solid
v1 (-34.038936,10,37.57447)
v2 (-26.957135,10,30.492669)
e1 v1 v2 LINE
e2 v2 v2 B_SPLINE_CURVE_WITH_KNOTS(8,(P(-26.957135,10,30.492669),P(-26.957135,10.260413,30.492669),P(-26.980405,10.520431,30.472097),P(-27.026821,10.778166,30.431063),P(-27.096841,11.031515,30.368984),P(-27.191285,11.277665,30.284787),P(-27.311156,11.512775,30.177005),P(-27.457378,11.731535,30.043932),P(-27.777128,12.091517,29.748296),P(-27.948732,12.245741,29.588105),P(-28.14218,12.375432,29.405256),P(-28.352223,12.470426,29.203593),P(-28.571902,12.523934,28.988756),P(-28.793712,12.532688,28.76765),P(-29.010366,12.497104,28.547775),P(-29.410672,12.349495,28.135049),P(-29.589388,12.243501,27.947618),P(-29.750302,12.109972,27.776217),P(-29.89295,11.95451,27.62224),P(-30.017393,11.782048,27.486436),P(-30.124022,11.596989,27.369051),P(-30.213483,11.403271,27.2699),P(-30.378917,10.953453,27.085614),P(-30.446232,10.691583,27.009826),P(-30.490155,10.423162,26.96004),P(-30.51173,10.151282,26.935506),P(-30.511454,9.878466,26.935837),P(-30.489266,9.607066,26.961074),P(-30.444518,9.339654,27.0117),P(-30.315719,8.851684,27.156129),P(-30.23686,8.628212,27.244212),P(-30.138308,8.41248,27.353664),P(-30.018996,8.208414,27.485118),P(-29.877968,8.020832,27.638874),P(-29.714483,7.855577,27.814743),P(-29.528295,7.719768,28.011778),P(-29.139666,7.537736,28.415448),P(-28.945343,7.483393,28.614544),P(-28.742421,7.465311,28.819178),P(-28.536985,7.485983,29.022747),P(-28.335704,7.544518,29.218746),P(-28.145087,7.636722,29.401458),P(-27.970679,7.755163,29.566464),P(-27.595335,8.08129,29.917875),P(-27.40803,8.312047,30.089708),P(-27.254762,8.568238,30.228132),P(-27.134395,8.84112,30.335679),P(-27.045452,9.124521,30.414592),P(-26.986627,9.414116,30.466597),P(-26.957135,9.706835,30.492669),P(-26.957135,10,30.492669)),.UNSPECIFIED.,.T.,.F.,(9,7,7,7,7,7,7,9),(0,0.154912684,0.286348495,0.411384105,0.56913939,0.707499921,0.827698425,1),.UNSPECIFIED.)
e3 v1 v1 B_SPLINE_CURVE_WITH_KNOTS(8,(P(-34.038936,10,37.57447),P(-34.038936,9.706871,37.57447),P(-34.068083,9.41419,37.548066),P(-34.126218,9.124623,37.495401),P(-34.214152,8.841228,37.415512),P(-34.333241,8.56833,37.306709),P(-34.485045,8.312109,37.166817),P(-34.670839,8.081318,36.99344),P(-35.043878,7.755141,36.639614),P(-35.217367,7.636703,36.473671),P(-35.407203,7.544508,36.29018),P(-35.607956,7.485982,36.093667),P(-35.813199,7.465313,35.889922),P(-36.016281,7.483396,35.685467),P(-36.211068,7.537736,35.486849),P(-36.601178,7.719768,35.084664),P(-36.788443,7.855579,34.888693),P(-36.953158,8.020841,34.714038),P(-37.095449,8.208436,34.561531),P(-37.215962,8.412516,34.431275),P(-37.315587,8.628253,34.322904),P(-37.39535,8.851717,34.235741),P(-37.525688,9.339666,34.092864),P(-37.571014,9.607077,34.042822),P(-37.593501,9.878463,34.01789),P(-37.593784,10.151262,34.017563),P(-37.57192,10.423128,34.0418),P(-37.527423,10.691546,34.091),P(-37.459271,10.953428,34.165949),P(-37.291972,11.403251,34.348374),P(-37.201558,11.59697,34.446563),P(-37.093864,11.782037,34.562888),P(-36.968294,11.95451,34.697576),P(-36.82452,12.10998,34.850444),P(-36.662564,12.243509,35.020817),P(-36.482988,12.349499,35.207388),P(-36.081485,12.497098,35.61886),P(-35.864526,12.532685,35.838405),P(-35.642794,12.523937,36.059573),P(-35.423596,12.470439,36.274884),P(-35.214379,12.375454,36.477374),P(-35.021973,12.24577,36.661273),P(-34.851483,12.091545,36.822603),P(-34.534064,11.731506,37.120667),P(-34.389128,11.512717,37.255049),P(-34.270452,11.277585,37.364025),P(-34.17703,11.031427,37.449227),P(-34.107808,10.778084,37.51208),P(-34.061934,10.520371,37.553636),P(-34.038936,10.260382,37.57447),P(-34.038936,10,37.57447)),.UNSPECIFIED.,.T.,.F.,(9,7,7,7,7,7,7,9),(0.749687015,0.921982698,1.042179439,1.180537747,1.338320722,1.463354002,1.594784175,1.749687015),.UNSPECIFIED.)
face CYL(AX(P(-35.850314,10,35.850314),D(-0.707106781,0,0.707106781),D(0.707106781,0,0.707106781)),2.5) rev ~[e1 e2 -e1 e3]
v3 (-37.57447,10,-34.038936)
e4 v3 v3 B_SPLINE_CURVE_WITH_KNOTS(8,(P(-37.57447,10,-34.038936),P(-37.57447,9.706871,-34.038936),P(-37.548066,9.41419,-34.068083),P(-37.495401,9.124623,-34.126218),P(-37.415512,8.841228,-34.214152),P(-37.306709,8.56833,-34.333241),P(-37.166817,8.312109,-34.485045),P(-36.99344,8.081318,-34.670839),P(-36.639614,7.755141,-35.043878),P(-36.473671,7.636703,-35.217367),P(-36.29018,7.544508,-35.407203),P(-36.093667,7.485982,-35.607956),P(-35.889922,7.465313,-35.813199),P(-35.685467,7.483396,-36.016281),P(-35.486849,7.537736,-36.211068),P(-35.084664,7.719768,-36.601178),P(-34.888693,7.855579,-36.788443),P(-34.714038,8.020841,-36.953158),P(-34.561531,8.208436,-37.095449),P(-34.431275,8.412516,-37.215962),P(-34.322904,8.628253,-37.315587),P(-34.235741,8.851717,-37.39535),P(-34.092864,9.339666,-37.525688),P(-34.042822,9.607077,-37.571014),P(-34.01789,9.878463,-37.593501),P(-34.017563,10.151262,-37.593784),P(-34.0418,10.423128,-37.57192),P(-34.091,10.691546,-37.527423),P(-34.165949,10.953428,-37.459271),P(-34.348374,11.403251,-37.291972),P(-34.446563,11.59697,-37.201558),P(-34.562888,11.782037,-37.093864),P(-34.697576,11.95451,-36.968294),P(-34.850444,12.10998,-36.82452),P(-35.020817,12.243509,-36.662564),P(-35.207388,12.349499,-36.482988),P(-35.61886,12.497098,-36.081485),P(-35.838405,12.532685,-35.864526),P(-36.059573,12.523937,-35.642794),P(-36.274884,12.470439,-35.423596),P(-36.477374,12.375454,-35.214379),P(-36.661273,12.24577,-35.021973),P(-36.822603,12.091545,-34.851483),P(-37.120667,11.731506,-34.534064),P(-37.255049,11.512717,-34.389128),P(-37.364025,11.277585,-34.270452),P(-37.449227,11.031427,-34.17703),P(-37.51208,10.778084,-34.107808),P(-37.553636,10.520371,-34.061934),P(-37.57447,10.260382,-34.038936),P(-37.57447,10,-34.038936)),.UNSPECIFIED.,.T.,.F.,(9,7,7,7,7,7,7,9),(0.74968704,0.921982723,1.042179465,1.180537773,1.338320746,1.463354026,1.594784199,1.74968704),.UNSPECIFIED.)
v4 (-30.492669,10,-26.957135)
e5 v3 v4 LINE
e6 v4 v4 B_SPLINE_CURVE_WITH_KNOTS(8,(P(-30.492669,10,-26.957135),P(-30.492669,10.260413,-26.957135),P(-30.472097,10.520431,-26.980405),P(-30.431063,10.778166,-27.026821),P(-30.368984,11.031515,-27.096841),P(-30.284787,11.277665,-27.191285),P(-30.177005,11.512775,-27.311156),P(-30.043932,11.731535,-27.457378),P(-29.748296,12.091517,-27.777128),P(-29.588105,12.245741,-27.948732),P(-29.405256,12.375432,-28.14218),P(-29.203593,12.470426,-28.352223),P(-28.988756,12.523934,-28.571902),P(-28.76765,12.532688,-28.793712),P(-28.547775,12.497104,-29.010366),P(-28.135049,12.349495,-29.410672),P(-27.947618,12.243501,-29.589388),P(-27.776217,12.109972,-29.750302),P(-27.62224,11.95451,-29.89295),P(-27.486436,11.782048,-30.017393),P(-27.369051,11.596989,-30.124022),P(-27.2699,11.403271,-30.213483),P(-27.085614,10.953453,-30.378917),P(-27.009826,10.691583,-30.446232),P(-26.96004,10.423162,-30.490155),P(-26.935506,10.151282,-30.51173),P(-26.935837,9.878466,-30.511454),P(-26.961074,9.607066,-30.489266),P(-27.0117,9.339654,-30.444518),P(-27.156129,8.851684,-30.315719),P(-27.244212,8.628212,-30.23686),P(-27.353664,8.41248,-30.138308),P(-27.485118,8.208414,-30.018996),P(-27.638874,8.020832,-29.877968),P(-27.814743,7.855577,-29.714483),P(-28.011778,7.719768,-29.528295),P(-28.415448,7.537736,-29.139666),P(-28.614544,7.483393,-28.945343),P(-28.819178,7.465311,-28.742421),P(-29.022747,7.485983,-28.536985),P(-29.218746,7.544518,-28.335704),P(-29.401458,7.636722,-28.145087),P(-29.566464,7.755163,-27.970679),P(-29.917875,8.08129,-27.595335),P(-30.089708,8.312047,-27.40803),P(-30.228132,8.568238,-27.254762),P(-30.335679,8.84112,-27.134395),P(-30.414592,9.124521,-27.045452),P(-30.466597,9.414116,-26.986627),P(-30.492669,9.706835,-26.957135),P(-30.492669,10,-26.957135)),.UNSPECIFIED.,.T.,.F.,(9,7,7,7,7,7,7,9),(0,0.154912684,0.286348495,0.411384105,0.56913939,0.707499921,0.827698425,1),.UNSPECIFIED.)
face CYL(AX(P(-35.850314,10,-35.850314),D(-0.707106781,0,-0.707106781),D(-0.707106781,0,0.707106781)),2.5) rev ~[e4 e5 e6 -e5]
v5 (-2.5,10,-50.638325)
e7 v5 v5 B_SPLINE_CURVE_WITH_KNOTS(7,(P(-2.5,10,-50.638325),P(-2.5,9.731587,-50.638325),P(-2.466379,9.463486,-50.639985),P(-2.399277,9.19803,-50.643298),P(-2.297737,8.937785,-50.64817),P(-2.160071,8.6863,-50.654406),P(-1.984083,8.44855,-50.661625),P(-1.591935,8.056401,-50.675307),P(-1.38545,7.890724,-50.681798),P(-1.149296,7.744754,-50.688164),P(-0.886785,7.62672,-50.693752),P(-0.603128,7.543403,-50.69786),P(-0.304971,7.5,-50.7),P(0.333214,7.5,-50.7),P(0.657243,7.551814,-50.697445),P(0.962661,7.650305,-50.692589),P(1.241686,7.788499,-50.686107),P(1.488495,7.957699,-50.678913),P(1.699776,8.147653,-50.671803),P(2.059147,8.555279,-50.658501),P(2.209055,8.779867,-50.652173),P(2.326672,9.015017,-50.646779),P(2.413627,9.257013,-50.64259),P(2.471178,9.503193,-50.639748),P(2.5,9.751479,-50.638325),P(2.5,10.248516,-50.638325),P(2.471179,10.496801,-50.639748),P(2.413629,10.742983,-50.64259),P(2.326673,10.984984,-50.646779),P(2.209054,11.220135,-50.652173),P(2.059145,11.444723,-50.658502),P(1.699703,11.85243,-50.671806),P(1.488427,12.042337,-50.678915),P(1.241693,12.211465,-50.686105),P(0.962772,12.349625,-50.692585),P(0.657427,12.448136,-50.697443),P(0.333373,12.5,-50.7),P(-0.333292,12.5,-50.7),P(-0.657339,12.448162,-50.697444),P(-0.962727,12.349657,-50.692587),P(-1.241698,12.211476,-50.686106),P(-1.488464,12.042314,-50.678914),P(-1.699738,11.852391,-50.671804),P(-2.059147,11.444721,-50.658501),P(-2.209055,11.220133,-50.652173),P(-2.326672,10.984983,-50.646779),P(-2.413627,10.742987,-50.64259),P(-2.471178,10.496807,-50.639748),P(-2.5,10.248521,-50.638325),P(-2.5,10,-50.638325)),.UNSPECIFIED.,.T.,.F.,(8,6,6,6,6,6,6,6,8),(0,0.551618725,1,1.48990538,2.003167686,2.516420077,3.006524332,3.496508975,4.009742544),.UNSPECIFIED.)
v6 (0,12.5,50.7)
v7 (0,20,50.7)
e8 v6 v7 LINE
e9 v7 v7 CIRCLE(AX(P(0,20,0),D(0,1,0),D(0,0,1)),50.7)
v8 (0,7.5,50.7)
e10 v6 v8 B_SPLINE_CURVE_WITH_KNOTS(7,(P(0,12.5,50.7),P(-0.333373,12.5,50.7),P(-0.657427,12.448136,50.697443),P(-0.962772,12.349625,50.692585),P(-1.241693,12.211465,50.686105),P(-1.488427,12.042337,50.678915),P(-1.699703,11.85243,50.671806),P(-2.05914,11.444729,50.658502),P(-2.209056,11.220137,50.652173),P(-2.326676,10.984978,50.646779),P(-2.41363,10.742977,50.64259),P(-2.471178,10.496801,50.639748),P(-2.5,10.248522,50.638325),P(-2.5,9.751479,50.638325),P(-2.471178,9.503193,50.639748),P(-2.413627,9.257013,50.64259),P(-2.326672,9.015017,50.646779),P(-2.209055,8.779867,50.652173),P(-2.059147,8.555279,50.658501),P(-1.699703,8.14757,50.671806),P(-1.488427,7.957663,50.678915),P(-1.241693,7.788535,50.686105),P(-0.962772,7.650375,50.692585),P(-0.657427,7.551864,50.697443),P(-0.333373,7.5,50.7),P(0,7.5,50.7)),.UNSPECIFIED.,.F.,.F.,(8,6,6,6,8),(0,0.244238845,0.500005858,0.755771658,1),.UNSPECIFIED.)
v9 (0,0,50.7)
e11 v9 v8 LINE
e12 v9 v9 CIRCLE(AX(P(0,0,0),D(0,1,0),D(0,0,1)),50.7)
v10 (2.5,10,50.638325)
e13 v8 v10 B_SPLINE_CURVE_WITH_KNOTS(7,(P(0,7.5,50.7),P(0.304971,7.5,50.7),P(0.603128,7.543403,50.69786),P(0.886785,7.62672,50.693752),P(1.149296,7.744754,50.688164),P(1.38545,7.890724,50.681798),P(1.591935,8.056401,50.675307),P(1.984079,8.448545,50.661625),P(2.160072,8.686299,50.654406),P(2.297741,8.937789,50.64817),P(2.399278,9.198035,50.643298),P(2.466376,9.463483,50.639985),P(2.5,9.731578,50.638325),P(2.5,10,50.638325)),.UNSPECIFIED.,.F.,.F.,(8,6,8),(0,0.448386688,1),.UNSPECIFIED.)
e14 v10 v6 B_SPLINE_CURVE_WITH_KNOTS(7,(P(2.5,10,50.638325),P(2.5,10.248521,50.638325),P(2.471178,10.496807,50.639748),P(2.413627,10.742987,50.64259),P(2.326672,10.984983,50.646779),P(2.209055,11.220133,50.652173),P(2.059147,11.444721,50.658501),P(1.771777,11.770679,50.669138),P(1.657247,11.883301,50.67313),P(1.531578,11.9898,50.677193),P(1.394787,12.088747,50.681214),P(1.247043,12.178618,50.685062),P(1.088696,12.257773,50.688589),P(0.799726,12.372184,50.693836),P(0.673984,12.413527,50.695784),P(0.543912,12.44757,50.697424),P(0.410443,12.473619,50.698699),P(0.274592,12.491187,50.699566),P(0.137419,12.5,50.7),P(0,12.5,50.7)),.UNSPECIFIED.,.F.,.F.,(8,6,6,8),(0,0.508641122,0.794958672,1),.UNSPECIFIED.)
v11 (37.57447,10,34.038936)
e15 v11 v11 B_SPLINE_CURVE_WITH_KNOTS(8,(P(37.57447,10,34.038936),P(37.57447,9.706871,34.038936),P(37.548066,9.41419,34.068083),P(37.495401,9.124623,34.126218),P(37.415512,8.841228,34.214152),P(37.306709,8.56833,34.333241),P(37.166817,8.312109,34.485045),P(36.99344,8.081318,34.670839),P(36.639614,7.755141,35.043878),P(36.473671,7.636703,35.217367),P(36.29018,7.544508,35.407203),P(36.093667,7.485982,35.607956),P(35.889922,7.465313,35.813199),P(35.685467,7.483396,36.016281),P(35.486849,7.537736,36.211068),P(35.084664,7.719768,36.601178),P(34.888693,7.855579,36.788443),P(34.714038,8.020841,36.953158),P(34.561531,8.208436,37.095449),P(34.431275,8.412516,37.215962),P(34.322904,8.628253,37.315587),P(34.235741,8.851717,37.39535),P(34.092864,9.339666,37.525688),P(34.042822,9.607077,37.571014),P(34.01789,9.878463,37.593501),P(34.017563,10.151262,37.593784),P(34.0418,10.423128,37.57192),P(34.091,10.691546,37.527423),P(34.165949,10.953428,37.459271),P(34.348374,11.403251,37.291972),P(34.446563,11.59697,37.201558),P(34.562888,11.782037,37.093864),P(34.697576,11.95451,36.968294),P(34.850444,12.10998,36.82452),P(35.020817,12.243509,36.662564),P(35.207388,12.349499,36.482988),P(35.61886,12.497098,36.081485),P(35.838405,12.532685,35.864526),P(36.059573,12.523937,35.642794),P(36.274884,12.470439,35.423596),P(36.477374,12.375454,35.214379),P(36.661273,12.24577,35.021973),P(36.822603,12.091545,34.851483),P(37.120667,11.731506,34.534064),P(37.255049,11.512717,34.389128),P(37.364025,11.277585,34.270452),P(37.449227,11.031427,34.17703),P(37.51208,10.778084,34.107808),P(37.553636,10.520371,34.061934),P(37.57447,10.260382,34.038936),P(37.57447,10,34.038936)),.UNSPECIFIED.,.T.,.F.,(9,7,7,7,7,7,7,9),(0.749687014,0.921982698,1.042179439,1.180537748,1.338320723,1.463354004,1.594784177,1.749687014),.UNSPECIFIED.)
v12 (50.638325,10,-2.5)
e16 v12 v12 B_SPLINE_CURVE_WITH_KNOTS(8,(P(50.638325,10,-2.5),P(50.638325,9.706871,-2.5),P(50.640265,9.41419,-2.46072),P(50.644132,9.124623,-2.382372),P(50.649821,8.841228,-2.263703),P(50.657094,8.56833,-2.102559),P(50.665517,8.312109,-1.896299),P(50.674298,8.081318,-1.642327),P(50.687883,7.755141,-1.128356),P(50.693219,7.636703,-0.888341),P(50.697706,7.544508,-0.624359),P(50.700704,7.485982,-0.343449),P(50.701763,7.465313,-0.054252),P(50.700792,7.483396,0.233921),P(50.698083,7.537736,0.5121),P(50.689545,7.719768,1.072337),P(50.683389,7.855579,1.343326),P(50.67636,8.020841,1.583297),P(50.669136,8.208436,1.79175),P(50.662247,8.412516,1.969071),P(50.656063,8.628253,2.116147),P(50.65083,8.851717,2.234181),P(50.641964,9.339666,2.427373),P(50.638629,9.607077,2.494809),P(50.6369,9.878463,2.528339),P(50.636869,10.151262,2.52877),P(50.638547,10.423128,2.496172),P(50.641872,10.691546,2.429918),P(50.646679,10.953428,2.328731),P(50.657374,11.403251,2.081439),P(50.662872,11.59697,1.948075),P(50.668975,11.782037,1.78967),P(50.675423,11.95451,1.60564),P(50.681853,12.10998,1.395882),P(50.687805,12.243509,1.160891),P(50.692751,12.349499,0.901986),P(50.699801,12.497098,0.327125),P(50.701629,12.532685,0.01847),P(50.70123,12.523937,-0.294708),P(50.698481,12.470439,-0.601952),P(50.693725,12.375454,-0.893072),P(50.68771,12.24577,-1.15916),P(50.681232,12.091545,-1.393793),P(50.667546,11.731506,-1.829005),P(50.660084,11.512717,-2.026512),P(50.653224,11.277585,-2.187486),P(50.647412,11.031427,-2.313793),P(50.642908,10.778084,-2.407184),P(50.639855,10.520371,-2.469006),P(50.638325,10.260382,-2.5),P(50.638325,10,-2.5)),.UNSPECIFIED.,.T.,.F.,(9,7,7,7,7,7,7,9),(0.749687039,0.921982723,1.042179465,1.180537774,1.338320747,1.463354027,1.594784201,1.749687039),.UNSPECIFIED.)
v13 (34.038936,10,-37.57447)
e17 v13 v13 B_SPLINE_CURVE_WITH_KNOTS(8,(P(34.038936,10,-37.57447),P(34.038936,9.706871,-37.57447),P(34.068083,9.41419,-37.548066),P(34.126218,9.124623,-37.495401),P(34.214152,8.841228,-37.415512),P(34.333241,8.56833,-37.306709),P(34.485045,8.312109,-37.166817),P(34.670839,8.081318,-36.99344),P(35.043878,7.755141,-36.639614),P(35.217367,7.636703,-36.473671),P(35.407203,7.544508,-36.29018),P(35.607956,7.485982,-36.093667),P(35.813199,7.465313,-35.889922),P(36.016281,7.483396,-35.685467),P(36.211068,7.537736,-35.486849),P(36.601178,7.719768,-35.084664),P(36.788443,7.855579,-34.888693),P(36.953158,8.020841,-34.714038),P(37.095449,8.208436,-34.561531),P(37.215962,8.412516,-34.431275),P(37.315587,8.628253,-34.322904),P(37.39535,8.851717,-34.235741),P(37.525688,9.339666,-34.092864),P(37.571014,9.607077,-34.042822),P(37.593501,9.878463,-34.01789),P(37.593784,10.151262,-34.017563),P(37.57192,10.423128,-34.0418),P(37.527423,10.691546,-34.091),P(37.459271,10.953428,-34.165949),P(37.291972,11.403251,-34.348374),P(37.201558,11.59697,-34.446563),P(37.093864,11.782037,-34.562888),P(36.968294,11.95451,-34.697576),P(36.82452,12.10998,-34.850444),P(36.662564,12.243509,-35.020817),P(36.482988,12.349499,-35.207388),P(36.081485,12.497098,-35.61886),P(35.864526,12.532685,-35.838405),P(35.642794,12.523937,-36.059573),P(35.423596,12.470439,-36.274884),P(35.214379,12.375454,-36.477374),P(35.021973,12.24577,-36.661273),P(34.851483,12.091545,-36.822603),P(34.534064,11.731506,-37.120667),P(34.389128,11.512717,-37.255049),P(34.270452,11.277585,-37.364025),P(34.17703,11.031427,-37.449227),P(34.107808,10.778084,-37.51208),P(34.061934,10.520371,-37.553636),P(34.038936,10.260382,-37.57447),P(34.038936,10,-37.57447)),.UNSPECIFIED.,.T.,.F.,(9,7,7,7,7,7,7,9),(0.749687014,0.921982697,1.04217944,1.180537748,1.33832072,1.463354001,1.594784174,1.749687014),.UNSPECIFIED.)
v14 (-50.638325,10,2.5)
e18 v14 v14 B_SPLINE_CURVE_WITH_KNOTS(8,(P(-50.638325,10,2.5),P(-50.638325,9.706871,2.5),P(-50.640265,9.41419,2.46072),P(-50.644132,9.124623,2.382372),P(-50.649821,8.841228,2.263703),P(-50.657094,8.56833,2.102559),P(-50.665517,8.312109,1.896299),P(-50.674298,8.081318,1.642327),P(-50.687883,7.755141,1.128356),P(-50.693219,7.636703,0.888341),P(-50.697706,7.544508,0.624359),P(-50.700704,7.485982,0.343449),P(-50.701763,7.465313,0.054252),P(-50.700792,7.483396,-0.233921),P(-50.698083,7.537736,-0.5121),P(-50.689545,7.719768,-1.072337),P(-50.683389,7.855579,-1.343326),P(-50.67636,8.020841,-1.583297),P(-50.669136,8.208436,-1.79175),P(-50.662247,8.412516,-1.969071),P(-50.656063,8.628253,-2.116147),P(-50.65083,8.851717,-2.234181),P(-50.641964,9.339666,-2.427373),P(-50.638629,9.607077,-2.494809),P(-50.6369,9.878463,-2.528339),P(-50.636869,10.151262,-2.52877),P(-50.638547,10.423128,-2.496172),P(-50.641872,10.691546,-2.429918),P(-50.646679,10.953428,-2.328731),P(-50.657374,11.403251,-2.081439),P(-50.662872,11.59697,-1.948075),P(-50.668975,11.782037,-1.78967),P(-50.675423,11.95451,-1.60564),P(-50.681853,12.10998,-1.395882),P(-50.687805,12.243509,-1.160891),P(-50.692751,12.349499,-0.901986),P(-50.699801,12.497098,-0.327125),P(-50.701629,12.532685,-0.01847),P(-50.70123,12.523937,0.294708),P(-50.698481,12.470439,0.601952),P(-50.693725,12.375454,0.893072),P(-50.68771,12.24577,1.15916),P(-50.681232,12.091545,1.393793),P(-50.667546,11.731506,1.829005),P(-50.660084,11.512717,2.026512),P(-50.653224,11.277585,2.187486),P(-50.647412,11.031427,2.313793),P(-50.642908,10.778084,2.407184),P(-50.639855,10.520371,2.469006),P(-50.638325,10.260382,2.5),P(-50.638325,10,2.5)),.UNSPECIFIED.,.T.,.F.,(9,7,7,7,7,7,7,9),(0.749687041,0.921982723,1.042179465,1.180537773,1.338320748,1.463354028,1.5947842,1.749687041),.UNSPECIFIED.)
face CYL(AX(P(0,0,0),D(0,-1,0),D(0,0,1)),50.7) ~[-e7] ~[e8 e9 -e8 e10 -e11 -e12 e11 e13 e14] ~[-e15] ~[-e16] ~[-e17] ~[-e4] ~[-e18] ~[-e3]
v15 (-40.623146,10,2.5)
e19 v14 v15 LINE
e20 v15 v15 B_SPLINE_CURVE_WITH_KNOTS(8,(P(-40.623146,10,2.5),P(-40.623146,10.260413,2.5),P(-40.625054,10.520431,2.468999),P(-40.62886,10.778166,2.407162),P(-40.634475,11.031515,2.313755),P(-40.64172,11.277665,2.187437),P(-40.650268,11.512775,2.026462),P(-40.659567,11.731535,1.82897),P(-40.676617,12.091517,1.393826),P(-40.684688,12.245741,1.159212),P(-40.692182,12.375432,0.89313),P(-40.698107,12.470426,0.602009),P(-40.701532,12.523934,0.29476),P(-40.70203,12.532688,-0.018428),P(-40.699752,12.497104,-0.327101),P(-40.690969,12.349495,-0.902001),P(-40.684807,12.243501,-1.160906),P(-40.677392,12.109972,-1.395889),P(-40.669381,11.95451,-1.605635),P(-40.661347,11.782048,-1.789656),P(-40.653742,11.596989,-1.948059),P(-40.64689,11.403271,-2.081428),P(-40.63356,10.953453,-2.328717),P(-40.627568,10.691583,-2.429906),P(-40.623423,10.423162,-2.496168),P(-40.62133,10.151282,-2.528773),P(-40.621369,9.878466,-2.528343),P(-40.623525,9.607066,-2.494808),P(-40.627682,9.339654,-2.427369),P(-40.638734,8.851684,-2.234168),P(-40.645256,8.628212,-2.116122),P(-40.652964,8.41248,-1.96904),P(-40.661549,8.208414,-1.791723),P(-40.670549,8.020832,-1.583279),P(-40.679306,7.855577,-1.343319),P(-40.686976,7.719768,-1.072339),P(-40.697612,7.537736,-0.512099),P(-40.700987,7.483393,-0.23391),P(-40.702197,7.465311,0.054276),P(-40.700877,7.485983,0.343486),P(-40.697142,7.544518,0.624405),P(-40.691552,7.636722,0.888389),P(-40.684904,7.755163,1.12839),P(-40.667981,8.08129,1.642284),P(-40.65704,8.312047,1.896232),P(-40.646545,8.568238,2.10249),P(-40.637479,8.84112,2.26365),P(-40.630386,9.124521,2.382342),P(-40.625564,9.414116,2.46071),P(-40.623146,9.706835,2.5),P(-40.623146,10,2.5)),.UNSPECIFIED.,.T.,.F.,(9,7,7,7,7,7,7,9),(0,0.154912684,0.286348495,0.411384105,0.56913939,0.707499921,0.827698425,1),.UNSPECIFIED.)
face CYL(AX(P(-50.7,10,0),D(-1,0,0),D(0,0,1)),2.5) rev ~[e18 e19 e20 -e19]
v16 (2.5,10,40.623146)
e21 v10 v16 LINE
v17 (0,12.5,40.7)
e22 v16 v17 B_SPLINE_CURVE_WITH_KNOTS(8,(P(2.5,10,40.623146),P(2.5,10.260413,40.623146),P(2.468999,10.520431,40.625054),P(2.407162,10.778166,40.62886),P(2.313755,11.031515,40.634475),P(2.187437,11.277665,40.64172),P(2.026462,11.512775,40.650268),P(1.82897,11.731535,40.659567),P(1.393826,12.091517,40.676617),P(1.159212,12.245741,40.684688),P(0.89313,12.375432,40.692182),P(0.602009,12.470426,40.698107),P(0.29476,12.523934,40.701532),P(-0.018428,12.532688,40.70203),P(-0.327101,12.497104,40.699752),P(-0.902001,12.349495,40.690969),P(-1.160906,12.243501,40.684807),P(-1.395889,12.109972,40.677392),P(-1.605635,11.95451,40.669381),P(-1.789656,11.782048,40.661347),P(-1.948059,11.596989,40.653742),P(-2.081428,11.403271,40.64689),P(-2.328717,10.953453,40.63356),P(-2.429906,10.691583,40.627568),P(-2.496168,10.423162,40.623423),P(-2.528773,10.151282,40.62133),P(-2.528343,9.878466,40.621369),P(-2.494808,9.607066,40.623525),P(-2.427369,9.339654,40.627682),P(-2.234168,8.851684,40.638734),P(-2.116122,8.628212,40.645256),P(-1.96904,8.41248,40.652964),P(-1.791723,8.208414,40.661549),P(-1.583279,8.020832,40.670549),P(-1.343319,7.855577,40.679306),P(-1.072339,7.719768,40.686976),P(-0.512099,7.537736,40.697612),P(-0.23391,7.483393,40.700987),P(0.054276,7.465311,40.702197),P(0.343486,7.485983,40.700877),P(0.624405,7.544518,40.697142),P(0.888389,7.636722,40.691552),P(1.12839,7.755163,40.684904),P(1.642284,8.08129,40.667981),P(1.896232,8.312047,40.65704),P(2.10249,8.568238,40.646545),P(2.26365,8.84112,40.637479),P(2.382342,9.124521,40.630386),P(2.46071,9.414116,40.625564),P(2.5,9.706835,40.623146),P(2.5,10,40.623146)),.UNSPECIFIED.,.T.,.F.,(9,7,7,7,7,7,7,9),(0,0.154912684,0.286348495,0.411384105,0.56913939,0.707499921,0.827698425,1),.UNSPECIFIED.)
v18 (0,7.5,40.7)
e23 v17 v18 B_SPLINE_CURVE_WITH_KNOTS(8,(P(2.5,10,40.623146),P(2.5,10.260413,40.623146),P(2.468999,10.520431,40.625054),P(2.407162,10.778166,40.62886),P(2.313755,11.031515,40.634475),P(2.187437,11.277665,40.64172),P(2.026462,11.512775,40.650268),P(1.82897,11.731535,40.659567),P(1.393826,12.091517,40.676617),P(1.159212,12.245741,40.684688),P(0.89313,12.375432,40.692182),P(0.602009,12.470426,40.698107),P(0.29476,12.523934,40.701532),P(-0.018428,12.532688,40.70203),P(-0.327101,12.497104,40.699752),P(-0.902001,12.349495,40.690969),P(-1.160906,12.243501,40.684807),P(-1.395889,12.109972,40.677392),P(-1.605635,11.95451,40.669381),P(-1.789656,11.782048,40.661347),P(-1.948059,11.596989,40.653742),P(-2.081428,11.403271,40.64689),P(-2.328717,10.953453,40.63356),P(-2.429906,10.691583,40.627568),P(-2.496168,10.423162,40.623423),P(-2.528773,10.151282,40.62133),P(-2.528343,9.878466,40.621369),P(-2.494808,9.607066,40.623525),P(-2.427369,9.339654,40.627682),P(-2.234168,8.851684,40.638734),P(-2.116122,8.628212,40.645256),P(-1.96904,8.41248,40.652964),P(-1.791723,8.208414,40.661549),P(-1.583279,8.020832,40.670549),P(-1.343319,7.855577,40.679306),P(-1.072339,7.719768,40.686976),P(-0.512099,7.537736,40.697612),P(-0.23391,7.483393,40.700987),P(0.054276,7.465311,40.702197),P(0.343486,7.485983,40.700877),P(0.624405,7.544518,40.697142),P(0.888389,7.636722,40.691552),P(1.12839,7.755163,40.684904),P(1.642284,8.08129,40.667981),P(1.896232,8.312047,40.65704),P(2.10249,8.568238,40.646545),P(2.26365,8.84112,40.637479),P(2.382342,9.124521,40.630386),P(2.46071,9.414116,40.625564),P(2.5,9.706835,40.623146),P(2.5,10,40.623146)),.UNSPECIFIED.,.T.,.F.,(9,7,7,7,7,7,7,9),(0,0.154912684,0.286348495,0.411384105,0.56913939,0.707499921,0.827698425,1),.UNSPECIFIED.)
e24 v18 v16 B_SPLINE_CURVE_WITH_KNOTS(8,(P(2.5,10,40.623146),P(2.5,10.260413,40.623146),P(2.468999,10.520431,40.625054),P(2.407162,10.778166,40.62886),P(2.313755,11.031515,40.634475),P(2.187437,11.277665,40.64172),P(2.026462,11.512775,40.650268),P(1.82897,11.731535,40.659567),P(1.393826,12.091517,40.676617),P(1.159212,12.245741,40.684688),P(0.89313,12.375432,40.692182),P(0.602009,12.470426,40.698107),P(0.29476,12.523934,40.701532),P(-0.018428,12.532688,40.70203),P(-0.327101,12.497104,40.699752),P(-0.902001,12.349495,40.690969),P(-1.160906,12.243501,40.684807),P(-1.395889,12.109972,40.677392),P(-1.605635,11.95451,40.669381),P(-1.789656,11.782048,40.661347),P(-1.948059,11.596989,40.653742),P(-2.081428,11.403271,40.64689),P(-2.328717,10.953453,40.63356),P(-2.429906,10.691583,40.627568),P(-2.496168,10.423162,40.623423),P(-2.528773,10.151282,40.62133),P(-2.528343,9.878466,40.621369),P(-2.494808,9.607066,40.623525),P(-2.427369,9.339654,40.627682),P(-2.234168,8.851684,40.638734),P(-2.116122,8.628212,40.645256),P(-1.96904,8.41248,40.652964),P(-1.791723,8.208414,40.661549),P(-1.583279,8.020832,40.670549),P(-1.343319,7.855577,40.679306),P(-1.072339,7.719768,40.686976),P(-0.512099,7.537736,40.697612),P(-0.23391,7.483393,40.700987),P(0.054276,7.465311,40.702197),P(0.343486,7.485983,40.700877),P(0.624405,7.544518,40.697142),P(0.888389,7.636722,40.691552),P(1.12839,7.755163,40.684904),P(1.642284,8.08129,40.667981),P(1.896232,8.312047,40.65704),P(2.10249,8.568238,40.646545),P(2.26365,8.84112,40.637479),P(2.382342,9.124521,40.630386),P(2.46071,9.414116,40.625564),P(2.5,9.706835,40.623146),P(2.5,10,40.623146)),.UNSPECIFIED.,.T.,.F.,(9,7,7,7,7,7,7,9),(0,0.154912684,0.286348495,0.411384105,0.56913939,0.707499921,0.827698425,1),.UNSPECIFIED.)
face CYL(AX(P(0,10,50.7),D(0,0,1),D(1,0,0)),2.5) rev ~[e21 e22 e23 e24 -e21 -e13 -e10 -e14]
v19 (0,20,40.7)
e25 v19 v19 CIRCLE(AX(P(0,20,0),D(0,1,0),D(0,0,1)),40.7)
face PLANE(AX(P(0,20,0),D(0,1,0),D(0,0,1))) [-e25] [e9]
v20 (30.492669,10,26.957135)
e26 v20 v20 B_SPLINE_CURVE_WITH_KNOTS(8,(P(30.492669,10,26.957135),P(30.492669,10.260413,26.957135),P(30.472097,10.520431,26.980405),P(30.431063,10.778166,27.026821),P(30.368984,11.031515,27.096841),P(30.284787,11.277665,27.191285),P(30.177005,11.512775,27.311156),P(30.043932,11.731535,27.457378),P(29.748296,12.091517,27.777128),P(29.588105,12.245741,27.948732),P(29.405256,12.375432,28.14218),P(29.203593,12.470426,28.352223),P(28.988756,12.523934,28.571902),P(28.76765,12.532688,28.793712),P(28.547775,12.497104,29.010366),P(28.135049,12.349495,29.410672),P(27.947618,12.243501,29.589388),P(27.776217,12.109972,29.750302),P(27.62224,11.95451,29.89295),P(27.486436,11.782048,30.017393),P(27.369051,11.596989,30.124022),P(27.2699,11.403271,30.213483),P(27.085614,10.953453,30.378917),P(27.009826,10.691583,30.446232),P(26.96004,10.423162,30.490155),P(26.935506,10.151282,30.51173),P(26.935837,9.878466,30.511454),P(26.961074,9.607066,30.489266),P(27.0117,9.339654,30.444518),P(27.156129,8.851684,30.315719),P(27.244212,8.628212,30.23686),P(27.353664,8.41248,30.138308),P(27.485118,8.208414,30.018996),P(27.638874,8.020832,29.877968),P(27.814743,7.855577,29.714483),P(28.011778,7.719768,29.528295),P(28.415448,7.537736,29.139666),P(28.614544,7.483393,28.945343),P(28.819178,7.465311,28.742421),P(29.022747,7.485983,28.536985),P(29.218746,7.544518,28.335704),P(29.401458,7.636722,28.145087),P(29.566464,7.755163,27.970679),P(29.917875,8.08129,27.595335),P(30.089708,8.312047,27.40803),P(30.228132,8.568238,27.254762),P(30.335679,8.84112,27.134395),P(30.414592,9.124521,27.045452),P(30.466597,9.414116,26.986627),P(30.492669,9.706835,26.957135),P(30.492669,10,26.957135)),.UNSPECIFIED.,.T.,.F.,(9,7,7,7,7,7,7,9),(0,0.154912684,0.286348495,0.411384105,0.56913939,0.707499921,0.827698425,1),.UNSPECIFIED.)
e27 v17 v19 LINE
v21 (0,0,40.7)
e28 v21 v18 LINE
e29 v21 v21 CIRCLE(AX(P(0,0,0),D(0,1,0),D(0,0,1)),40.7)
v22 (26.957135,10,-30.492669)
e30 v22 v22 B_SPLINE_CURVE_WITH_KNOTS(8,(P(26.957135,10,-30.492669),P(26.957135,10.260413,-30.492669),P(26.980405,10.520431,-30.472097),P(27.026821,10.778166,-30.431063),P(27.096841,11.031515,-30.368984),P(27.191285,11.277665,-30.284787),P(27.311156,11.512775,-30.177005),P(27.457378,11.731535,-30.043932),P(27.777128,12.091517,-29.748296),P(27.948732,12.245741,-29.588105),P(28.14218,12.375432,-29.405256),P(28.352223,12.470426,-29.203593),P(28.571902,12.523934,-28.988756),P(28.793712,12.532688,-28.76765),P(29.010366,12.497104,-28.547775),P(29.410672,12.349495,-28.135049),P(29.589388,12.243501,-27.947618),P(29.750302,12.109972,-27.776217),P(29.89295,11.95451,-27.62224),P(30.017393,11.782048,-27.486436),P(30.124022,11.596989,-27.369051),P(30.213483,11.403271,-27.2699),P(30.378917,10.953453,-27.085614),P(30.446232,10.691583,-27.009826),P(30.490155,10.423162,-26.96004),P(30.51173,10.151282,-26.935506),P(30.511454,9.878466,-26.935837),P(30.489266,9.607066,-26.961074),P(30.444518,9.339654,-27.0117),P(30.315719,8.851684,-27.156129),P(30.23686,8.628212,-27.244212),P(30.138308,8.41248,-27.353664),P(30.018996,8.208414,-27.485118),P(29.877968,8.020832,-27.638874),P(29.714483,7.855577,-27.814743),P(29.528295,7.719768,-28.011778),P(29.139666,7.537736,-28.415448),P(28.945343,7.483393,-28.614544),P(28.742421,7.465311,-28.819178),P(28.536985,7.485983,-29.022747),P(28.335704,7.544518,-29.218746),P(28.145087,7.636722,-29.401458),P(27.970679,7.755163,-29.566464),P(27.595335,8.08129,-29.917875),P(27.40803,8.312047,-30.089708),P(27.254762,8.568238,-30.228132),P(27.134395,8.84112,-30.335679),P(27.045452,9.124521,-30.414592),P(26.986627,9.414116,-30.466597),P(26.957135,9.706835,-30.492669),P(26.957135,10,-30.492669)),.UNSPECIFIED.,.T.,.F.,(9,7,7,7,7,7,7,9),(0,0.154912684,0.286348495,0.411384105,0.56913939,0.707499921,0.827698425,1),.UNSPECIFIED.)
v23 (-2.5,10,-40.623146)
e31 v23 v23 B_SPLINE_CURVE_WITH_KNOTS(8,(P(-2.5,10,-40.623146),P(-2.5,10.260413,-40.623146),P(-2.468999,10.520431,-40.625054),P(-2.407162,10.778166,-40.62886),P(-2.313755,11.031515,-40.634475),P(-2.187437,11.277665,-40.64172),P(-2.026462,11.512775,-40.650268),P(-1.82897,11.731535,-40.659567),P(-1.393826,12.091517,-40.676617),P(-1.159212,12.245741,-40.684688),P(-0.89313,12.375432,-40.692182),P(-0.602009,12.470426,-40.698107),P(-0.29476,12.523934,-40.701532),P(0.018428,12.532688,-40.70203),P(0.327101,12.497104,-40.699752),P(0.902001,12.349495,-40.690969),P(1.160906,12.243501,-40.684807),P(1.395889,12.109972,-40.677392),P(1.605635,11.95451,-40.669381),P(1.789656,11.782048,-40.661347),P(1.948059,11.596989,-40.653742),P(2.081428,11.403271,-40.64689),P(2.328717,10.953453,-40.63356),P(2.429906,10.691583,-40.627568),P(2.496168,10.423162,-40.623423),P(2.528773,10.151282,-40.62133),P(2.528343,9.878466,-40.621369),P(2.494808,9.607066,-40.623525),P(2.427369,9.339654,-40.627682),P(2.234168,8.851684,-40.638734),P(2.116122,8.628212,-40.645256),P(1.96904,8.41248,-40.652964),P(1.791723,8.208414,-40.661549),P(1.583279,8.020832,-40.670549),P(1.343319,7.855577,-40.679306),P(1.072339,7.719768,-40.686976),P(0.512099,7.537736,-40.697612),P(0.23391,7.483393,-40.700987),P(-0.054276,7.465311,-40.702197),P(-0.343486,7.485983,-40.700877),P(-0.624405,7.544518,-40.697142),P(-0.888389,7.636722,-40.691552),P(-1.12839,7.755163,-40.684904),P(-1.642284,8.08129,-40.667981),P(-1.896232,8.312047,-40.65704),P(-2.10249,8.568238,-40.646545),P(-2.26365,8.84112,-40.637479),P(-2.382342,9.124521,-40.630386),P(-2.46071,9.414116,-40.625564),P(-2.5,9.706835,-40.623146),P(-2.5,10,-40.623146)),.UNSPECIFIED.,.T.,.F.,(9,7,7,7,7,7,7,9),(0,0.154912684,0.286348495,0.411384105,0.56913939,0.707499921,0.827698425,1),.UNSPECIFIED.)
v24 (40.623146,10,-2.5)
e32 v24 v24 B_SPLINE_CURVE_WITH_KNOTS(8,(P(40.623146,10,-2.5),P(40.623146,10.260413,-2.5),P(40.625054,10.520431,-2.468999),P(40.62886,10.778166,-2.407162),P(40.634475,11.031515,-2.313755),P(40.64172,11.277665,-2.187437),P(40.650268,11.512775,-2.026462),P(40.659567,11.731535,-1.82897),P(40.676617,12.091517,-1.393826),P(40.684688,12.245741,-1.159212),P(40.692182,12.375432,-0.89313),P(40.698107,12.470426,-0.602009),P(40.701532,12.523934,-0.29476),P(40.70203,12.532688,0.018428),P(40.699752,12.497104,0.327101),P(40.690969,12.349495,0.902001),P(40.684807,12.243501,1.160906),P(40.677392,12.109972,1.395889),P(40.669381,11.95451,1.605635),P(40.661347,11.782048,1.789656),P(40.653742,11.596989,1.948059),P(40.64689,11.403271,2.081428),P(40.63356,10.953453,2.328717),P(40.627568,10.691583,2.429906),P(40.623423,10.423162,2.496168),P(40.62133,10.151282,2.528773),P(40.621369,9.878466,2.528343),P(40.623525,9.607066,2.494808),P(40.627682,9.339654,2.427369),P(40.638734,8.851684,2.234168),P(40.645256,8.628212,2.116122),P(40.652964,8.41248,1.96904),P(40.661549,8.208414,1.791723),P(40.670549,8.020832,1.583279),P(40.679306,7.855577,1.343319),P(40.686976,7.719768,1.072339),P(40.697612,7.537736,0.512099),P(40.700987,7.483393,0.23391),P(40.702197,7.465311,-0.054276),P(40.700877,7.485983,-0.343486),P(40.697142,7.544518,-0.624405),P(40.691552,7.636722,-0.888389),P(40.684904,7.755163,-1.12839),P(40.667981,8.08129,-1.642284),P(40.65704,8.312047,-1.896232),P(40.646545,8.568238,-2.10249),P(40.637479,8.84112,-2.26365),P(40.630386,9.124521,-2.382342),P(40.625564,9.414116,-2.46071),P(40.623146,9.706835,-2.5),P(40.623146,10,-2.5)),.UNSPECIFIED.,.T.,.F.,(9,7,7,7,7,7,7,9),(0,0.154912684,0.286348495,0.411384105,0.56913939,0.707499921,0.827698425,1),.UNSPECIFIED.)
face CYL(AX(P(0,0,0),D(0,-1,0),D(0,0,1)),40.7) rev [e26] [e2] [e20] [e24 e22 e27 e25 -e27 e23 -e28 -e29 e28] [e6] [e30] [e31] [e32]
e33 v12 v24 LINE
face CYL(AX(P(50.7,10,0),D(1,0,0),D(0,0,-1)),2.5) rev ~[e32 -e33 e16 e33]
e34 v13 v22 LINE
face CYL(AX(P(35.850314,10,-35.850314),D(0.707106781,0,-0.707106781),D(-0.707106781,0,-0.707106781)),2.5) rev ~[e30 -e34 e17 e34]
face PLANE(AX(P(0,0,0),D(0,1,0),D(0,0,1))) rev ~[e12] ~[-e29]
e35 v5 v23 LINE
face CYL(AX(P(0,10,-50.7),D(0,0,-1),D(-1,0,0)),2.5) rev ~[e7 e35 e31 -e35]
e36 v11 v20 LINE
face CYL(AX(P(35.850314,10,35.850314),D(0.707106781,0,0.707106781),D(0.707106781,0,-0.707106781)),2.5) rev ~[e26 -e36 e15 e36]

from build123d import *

# Parameters (mm, degrees)
SKETCH3_R               = 50.7
SKETCH3_R_2             = 40.700000007
BOSS_EXTRUDE1_DEPTH     = 20
CUT_EXTRUDE1_REACH      = 117.119
CUT_EXTRUDE1_END_RADIUS = 40.700000007
SKETCH5_R               = 2.5
CIRPATTERN1_COUNT       = 8


with BuildPart() as part:
    # Sketch3 → Boss-Extrude1 (new body)
    with BuildSketch(Plane(origin=(0, 0, 0), x_dir=(1, 0, 0), z_dir=(0, 1, 0))):
        with Locations(Location((0, 0, 0), (0, 0, 270))):
            Circle(SKETCH3_R)
        with Locations(Location((0, 0, 0), (0, 0, 270))):
            Circle(SKETCH3_R_2, mode=Mode.SUBTRACT)
    extrude(amount=BOSS_EXTRUDE1_DEPTH)

    # Cut-Extrude1: up to this cylinder (the profile starts outside it)
    cut_extrude1_end = Plane(origin=(0, 10, 0), z_dir=(0, -1, 0)) * Cylinder(CUT_EXTRUDE1_END_RADIUS, 316.638000014, mode=Mode.PRIVATE)
    # Sketch5 → Cut-Extrude1 (cut, up to the surface)
    with BuildSketch(Plane(origin=(50.7, 0, 0), x_dir=(0, 0, -1), z_dir=(1, 0, 0)), mode=Mode.PRIVATE) as cut_extrude1_sk1:
        with Locations((0, 10)):
            Circle(SKETCH5_R)
    cut_extrude1_tool1 = extrude(cut_extrude1_sk1.sketch, amount=-CUT_EXTRUDE1_REACH, mode=Mode.PRIVATE) - cut_extrude1_end
    cut_extrude1 = cut_extrude1_tool1.solids().sort_by_distance((50.7, 10, 0))[0]
    add(cut_extrude1, mode=Mode.SUBTRACT)

    # CirPattern1: Cut-Extrude1 ×8 about axis
    cirpattern1_axis = Axis((0, 20, 0), (0, -1, 0))
    for i in range(1, CIRPATTERN1_COUNT):
        add(cut_extrude1.rotate(cirpattern1_axis, i * 360 / CIRPATTERN1_COUNT), mode=Mode.SUBTRACT)


solid = part.part
